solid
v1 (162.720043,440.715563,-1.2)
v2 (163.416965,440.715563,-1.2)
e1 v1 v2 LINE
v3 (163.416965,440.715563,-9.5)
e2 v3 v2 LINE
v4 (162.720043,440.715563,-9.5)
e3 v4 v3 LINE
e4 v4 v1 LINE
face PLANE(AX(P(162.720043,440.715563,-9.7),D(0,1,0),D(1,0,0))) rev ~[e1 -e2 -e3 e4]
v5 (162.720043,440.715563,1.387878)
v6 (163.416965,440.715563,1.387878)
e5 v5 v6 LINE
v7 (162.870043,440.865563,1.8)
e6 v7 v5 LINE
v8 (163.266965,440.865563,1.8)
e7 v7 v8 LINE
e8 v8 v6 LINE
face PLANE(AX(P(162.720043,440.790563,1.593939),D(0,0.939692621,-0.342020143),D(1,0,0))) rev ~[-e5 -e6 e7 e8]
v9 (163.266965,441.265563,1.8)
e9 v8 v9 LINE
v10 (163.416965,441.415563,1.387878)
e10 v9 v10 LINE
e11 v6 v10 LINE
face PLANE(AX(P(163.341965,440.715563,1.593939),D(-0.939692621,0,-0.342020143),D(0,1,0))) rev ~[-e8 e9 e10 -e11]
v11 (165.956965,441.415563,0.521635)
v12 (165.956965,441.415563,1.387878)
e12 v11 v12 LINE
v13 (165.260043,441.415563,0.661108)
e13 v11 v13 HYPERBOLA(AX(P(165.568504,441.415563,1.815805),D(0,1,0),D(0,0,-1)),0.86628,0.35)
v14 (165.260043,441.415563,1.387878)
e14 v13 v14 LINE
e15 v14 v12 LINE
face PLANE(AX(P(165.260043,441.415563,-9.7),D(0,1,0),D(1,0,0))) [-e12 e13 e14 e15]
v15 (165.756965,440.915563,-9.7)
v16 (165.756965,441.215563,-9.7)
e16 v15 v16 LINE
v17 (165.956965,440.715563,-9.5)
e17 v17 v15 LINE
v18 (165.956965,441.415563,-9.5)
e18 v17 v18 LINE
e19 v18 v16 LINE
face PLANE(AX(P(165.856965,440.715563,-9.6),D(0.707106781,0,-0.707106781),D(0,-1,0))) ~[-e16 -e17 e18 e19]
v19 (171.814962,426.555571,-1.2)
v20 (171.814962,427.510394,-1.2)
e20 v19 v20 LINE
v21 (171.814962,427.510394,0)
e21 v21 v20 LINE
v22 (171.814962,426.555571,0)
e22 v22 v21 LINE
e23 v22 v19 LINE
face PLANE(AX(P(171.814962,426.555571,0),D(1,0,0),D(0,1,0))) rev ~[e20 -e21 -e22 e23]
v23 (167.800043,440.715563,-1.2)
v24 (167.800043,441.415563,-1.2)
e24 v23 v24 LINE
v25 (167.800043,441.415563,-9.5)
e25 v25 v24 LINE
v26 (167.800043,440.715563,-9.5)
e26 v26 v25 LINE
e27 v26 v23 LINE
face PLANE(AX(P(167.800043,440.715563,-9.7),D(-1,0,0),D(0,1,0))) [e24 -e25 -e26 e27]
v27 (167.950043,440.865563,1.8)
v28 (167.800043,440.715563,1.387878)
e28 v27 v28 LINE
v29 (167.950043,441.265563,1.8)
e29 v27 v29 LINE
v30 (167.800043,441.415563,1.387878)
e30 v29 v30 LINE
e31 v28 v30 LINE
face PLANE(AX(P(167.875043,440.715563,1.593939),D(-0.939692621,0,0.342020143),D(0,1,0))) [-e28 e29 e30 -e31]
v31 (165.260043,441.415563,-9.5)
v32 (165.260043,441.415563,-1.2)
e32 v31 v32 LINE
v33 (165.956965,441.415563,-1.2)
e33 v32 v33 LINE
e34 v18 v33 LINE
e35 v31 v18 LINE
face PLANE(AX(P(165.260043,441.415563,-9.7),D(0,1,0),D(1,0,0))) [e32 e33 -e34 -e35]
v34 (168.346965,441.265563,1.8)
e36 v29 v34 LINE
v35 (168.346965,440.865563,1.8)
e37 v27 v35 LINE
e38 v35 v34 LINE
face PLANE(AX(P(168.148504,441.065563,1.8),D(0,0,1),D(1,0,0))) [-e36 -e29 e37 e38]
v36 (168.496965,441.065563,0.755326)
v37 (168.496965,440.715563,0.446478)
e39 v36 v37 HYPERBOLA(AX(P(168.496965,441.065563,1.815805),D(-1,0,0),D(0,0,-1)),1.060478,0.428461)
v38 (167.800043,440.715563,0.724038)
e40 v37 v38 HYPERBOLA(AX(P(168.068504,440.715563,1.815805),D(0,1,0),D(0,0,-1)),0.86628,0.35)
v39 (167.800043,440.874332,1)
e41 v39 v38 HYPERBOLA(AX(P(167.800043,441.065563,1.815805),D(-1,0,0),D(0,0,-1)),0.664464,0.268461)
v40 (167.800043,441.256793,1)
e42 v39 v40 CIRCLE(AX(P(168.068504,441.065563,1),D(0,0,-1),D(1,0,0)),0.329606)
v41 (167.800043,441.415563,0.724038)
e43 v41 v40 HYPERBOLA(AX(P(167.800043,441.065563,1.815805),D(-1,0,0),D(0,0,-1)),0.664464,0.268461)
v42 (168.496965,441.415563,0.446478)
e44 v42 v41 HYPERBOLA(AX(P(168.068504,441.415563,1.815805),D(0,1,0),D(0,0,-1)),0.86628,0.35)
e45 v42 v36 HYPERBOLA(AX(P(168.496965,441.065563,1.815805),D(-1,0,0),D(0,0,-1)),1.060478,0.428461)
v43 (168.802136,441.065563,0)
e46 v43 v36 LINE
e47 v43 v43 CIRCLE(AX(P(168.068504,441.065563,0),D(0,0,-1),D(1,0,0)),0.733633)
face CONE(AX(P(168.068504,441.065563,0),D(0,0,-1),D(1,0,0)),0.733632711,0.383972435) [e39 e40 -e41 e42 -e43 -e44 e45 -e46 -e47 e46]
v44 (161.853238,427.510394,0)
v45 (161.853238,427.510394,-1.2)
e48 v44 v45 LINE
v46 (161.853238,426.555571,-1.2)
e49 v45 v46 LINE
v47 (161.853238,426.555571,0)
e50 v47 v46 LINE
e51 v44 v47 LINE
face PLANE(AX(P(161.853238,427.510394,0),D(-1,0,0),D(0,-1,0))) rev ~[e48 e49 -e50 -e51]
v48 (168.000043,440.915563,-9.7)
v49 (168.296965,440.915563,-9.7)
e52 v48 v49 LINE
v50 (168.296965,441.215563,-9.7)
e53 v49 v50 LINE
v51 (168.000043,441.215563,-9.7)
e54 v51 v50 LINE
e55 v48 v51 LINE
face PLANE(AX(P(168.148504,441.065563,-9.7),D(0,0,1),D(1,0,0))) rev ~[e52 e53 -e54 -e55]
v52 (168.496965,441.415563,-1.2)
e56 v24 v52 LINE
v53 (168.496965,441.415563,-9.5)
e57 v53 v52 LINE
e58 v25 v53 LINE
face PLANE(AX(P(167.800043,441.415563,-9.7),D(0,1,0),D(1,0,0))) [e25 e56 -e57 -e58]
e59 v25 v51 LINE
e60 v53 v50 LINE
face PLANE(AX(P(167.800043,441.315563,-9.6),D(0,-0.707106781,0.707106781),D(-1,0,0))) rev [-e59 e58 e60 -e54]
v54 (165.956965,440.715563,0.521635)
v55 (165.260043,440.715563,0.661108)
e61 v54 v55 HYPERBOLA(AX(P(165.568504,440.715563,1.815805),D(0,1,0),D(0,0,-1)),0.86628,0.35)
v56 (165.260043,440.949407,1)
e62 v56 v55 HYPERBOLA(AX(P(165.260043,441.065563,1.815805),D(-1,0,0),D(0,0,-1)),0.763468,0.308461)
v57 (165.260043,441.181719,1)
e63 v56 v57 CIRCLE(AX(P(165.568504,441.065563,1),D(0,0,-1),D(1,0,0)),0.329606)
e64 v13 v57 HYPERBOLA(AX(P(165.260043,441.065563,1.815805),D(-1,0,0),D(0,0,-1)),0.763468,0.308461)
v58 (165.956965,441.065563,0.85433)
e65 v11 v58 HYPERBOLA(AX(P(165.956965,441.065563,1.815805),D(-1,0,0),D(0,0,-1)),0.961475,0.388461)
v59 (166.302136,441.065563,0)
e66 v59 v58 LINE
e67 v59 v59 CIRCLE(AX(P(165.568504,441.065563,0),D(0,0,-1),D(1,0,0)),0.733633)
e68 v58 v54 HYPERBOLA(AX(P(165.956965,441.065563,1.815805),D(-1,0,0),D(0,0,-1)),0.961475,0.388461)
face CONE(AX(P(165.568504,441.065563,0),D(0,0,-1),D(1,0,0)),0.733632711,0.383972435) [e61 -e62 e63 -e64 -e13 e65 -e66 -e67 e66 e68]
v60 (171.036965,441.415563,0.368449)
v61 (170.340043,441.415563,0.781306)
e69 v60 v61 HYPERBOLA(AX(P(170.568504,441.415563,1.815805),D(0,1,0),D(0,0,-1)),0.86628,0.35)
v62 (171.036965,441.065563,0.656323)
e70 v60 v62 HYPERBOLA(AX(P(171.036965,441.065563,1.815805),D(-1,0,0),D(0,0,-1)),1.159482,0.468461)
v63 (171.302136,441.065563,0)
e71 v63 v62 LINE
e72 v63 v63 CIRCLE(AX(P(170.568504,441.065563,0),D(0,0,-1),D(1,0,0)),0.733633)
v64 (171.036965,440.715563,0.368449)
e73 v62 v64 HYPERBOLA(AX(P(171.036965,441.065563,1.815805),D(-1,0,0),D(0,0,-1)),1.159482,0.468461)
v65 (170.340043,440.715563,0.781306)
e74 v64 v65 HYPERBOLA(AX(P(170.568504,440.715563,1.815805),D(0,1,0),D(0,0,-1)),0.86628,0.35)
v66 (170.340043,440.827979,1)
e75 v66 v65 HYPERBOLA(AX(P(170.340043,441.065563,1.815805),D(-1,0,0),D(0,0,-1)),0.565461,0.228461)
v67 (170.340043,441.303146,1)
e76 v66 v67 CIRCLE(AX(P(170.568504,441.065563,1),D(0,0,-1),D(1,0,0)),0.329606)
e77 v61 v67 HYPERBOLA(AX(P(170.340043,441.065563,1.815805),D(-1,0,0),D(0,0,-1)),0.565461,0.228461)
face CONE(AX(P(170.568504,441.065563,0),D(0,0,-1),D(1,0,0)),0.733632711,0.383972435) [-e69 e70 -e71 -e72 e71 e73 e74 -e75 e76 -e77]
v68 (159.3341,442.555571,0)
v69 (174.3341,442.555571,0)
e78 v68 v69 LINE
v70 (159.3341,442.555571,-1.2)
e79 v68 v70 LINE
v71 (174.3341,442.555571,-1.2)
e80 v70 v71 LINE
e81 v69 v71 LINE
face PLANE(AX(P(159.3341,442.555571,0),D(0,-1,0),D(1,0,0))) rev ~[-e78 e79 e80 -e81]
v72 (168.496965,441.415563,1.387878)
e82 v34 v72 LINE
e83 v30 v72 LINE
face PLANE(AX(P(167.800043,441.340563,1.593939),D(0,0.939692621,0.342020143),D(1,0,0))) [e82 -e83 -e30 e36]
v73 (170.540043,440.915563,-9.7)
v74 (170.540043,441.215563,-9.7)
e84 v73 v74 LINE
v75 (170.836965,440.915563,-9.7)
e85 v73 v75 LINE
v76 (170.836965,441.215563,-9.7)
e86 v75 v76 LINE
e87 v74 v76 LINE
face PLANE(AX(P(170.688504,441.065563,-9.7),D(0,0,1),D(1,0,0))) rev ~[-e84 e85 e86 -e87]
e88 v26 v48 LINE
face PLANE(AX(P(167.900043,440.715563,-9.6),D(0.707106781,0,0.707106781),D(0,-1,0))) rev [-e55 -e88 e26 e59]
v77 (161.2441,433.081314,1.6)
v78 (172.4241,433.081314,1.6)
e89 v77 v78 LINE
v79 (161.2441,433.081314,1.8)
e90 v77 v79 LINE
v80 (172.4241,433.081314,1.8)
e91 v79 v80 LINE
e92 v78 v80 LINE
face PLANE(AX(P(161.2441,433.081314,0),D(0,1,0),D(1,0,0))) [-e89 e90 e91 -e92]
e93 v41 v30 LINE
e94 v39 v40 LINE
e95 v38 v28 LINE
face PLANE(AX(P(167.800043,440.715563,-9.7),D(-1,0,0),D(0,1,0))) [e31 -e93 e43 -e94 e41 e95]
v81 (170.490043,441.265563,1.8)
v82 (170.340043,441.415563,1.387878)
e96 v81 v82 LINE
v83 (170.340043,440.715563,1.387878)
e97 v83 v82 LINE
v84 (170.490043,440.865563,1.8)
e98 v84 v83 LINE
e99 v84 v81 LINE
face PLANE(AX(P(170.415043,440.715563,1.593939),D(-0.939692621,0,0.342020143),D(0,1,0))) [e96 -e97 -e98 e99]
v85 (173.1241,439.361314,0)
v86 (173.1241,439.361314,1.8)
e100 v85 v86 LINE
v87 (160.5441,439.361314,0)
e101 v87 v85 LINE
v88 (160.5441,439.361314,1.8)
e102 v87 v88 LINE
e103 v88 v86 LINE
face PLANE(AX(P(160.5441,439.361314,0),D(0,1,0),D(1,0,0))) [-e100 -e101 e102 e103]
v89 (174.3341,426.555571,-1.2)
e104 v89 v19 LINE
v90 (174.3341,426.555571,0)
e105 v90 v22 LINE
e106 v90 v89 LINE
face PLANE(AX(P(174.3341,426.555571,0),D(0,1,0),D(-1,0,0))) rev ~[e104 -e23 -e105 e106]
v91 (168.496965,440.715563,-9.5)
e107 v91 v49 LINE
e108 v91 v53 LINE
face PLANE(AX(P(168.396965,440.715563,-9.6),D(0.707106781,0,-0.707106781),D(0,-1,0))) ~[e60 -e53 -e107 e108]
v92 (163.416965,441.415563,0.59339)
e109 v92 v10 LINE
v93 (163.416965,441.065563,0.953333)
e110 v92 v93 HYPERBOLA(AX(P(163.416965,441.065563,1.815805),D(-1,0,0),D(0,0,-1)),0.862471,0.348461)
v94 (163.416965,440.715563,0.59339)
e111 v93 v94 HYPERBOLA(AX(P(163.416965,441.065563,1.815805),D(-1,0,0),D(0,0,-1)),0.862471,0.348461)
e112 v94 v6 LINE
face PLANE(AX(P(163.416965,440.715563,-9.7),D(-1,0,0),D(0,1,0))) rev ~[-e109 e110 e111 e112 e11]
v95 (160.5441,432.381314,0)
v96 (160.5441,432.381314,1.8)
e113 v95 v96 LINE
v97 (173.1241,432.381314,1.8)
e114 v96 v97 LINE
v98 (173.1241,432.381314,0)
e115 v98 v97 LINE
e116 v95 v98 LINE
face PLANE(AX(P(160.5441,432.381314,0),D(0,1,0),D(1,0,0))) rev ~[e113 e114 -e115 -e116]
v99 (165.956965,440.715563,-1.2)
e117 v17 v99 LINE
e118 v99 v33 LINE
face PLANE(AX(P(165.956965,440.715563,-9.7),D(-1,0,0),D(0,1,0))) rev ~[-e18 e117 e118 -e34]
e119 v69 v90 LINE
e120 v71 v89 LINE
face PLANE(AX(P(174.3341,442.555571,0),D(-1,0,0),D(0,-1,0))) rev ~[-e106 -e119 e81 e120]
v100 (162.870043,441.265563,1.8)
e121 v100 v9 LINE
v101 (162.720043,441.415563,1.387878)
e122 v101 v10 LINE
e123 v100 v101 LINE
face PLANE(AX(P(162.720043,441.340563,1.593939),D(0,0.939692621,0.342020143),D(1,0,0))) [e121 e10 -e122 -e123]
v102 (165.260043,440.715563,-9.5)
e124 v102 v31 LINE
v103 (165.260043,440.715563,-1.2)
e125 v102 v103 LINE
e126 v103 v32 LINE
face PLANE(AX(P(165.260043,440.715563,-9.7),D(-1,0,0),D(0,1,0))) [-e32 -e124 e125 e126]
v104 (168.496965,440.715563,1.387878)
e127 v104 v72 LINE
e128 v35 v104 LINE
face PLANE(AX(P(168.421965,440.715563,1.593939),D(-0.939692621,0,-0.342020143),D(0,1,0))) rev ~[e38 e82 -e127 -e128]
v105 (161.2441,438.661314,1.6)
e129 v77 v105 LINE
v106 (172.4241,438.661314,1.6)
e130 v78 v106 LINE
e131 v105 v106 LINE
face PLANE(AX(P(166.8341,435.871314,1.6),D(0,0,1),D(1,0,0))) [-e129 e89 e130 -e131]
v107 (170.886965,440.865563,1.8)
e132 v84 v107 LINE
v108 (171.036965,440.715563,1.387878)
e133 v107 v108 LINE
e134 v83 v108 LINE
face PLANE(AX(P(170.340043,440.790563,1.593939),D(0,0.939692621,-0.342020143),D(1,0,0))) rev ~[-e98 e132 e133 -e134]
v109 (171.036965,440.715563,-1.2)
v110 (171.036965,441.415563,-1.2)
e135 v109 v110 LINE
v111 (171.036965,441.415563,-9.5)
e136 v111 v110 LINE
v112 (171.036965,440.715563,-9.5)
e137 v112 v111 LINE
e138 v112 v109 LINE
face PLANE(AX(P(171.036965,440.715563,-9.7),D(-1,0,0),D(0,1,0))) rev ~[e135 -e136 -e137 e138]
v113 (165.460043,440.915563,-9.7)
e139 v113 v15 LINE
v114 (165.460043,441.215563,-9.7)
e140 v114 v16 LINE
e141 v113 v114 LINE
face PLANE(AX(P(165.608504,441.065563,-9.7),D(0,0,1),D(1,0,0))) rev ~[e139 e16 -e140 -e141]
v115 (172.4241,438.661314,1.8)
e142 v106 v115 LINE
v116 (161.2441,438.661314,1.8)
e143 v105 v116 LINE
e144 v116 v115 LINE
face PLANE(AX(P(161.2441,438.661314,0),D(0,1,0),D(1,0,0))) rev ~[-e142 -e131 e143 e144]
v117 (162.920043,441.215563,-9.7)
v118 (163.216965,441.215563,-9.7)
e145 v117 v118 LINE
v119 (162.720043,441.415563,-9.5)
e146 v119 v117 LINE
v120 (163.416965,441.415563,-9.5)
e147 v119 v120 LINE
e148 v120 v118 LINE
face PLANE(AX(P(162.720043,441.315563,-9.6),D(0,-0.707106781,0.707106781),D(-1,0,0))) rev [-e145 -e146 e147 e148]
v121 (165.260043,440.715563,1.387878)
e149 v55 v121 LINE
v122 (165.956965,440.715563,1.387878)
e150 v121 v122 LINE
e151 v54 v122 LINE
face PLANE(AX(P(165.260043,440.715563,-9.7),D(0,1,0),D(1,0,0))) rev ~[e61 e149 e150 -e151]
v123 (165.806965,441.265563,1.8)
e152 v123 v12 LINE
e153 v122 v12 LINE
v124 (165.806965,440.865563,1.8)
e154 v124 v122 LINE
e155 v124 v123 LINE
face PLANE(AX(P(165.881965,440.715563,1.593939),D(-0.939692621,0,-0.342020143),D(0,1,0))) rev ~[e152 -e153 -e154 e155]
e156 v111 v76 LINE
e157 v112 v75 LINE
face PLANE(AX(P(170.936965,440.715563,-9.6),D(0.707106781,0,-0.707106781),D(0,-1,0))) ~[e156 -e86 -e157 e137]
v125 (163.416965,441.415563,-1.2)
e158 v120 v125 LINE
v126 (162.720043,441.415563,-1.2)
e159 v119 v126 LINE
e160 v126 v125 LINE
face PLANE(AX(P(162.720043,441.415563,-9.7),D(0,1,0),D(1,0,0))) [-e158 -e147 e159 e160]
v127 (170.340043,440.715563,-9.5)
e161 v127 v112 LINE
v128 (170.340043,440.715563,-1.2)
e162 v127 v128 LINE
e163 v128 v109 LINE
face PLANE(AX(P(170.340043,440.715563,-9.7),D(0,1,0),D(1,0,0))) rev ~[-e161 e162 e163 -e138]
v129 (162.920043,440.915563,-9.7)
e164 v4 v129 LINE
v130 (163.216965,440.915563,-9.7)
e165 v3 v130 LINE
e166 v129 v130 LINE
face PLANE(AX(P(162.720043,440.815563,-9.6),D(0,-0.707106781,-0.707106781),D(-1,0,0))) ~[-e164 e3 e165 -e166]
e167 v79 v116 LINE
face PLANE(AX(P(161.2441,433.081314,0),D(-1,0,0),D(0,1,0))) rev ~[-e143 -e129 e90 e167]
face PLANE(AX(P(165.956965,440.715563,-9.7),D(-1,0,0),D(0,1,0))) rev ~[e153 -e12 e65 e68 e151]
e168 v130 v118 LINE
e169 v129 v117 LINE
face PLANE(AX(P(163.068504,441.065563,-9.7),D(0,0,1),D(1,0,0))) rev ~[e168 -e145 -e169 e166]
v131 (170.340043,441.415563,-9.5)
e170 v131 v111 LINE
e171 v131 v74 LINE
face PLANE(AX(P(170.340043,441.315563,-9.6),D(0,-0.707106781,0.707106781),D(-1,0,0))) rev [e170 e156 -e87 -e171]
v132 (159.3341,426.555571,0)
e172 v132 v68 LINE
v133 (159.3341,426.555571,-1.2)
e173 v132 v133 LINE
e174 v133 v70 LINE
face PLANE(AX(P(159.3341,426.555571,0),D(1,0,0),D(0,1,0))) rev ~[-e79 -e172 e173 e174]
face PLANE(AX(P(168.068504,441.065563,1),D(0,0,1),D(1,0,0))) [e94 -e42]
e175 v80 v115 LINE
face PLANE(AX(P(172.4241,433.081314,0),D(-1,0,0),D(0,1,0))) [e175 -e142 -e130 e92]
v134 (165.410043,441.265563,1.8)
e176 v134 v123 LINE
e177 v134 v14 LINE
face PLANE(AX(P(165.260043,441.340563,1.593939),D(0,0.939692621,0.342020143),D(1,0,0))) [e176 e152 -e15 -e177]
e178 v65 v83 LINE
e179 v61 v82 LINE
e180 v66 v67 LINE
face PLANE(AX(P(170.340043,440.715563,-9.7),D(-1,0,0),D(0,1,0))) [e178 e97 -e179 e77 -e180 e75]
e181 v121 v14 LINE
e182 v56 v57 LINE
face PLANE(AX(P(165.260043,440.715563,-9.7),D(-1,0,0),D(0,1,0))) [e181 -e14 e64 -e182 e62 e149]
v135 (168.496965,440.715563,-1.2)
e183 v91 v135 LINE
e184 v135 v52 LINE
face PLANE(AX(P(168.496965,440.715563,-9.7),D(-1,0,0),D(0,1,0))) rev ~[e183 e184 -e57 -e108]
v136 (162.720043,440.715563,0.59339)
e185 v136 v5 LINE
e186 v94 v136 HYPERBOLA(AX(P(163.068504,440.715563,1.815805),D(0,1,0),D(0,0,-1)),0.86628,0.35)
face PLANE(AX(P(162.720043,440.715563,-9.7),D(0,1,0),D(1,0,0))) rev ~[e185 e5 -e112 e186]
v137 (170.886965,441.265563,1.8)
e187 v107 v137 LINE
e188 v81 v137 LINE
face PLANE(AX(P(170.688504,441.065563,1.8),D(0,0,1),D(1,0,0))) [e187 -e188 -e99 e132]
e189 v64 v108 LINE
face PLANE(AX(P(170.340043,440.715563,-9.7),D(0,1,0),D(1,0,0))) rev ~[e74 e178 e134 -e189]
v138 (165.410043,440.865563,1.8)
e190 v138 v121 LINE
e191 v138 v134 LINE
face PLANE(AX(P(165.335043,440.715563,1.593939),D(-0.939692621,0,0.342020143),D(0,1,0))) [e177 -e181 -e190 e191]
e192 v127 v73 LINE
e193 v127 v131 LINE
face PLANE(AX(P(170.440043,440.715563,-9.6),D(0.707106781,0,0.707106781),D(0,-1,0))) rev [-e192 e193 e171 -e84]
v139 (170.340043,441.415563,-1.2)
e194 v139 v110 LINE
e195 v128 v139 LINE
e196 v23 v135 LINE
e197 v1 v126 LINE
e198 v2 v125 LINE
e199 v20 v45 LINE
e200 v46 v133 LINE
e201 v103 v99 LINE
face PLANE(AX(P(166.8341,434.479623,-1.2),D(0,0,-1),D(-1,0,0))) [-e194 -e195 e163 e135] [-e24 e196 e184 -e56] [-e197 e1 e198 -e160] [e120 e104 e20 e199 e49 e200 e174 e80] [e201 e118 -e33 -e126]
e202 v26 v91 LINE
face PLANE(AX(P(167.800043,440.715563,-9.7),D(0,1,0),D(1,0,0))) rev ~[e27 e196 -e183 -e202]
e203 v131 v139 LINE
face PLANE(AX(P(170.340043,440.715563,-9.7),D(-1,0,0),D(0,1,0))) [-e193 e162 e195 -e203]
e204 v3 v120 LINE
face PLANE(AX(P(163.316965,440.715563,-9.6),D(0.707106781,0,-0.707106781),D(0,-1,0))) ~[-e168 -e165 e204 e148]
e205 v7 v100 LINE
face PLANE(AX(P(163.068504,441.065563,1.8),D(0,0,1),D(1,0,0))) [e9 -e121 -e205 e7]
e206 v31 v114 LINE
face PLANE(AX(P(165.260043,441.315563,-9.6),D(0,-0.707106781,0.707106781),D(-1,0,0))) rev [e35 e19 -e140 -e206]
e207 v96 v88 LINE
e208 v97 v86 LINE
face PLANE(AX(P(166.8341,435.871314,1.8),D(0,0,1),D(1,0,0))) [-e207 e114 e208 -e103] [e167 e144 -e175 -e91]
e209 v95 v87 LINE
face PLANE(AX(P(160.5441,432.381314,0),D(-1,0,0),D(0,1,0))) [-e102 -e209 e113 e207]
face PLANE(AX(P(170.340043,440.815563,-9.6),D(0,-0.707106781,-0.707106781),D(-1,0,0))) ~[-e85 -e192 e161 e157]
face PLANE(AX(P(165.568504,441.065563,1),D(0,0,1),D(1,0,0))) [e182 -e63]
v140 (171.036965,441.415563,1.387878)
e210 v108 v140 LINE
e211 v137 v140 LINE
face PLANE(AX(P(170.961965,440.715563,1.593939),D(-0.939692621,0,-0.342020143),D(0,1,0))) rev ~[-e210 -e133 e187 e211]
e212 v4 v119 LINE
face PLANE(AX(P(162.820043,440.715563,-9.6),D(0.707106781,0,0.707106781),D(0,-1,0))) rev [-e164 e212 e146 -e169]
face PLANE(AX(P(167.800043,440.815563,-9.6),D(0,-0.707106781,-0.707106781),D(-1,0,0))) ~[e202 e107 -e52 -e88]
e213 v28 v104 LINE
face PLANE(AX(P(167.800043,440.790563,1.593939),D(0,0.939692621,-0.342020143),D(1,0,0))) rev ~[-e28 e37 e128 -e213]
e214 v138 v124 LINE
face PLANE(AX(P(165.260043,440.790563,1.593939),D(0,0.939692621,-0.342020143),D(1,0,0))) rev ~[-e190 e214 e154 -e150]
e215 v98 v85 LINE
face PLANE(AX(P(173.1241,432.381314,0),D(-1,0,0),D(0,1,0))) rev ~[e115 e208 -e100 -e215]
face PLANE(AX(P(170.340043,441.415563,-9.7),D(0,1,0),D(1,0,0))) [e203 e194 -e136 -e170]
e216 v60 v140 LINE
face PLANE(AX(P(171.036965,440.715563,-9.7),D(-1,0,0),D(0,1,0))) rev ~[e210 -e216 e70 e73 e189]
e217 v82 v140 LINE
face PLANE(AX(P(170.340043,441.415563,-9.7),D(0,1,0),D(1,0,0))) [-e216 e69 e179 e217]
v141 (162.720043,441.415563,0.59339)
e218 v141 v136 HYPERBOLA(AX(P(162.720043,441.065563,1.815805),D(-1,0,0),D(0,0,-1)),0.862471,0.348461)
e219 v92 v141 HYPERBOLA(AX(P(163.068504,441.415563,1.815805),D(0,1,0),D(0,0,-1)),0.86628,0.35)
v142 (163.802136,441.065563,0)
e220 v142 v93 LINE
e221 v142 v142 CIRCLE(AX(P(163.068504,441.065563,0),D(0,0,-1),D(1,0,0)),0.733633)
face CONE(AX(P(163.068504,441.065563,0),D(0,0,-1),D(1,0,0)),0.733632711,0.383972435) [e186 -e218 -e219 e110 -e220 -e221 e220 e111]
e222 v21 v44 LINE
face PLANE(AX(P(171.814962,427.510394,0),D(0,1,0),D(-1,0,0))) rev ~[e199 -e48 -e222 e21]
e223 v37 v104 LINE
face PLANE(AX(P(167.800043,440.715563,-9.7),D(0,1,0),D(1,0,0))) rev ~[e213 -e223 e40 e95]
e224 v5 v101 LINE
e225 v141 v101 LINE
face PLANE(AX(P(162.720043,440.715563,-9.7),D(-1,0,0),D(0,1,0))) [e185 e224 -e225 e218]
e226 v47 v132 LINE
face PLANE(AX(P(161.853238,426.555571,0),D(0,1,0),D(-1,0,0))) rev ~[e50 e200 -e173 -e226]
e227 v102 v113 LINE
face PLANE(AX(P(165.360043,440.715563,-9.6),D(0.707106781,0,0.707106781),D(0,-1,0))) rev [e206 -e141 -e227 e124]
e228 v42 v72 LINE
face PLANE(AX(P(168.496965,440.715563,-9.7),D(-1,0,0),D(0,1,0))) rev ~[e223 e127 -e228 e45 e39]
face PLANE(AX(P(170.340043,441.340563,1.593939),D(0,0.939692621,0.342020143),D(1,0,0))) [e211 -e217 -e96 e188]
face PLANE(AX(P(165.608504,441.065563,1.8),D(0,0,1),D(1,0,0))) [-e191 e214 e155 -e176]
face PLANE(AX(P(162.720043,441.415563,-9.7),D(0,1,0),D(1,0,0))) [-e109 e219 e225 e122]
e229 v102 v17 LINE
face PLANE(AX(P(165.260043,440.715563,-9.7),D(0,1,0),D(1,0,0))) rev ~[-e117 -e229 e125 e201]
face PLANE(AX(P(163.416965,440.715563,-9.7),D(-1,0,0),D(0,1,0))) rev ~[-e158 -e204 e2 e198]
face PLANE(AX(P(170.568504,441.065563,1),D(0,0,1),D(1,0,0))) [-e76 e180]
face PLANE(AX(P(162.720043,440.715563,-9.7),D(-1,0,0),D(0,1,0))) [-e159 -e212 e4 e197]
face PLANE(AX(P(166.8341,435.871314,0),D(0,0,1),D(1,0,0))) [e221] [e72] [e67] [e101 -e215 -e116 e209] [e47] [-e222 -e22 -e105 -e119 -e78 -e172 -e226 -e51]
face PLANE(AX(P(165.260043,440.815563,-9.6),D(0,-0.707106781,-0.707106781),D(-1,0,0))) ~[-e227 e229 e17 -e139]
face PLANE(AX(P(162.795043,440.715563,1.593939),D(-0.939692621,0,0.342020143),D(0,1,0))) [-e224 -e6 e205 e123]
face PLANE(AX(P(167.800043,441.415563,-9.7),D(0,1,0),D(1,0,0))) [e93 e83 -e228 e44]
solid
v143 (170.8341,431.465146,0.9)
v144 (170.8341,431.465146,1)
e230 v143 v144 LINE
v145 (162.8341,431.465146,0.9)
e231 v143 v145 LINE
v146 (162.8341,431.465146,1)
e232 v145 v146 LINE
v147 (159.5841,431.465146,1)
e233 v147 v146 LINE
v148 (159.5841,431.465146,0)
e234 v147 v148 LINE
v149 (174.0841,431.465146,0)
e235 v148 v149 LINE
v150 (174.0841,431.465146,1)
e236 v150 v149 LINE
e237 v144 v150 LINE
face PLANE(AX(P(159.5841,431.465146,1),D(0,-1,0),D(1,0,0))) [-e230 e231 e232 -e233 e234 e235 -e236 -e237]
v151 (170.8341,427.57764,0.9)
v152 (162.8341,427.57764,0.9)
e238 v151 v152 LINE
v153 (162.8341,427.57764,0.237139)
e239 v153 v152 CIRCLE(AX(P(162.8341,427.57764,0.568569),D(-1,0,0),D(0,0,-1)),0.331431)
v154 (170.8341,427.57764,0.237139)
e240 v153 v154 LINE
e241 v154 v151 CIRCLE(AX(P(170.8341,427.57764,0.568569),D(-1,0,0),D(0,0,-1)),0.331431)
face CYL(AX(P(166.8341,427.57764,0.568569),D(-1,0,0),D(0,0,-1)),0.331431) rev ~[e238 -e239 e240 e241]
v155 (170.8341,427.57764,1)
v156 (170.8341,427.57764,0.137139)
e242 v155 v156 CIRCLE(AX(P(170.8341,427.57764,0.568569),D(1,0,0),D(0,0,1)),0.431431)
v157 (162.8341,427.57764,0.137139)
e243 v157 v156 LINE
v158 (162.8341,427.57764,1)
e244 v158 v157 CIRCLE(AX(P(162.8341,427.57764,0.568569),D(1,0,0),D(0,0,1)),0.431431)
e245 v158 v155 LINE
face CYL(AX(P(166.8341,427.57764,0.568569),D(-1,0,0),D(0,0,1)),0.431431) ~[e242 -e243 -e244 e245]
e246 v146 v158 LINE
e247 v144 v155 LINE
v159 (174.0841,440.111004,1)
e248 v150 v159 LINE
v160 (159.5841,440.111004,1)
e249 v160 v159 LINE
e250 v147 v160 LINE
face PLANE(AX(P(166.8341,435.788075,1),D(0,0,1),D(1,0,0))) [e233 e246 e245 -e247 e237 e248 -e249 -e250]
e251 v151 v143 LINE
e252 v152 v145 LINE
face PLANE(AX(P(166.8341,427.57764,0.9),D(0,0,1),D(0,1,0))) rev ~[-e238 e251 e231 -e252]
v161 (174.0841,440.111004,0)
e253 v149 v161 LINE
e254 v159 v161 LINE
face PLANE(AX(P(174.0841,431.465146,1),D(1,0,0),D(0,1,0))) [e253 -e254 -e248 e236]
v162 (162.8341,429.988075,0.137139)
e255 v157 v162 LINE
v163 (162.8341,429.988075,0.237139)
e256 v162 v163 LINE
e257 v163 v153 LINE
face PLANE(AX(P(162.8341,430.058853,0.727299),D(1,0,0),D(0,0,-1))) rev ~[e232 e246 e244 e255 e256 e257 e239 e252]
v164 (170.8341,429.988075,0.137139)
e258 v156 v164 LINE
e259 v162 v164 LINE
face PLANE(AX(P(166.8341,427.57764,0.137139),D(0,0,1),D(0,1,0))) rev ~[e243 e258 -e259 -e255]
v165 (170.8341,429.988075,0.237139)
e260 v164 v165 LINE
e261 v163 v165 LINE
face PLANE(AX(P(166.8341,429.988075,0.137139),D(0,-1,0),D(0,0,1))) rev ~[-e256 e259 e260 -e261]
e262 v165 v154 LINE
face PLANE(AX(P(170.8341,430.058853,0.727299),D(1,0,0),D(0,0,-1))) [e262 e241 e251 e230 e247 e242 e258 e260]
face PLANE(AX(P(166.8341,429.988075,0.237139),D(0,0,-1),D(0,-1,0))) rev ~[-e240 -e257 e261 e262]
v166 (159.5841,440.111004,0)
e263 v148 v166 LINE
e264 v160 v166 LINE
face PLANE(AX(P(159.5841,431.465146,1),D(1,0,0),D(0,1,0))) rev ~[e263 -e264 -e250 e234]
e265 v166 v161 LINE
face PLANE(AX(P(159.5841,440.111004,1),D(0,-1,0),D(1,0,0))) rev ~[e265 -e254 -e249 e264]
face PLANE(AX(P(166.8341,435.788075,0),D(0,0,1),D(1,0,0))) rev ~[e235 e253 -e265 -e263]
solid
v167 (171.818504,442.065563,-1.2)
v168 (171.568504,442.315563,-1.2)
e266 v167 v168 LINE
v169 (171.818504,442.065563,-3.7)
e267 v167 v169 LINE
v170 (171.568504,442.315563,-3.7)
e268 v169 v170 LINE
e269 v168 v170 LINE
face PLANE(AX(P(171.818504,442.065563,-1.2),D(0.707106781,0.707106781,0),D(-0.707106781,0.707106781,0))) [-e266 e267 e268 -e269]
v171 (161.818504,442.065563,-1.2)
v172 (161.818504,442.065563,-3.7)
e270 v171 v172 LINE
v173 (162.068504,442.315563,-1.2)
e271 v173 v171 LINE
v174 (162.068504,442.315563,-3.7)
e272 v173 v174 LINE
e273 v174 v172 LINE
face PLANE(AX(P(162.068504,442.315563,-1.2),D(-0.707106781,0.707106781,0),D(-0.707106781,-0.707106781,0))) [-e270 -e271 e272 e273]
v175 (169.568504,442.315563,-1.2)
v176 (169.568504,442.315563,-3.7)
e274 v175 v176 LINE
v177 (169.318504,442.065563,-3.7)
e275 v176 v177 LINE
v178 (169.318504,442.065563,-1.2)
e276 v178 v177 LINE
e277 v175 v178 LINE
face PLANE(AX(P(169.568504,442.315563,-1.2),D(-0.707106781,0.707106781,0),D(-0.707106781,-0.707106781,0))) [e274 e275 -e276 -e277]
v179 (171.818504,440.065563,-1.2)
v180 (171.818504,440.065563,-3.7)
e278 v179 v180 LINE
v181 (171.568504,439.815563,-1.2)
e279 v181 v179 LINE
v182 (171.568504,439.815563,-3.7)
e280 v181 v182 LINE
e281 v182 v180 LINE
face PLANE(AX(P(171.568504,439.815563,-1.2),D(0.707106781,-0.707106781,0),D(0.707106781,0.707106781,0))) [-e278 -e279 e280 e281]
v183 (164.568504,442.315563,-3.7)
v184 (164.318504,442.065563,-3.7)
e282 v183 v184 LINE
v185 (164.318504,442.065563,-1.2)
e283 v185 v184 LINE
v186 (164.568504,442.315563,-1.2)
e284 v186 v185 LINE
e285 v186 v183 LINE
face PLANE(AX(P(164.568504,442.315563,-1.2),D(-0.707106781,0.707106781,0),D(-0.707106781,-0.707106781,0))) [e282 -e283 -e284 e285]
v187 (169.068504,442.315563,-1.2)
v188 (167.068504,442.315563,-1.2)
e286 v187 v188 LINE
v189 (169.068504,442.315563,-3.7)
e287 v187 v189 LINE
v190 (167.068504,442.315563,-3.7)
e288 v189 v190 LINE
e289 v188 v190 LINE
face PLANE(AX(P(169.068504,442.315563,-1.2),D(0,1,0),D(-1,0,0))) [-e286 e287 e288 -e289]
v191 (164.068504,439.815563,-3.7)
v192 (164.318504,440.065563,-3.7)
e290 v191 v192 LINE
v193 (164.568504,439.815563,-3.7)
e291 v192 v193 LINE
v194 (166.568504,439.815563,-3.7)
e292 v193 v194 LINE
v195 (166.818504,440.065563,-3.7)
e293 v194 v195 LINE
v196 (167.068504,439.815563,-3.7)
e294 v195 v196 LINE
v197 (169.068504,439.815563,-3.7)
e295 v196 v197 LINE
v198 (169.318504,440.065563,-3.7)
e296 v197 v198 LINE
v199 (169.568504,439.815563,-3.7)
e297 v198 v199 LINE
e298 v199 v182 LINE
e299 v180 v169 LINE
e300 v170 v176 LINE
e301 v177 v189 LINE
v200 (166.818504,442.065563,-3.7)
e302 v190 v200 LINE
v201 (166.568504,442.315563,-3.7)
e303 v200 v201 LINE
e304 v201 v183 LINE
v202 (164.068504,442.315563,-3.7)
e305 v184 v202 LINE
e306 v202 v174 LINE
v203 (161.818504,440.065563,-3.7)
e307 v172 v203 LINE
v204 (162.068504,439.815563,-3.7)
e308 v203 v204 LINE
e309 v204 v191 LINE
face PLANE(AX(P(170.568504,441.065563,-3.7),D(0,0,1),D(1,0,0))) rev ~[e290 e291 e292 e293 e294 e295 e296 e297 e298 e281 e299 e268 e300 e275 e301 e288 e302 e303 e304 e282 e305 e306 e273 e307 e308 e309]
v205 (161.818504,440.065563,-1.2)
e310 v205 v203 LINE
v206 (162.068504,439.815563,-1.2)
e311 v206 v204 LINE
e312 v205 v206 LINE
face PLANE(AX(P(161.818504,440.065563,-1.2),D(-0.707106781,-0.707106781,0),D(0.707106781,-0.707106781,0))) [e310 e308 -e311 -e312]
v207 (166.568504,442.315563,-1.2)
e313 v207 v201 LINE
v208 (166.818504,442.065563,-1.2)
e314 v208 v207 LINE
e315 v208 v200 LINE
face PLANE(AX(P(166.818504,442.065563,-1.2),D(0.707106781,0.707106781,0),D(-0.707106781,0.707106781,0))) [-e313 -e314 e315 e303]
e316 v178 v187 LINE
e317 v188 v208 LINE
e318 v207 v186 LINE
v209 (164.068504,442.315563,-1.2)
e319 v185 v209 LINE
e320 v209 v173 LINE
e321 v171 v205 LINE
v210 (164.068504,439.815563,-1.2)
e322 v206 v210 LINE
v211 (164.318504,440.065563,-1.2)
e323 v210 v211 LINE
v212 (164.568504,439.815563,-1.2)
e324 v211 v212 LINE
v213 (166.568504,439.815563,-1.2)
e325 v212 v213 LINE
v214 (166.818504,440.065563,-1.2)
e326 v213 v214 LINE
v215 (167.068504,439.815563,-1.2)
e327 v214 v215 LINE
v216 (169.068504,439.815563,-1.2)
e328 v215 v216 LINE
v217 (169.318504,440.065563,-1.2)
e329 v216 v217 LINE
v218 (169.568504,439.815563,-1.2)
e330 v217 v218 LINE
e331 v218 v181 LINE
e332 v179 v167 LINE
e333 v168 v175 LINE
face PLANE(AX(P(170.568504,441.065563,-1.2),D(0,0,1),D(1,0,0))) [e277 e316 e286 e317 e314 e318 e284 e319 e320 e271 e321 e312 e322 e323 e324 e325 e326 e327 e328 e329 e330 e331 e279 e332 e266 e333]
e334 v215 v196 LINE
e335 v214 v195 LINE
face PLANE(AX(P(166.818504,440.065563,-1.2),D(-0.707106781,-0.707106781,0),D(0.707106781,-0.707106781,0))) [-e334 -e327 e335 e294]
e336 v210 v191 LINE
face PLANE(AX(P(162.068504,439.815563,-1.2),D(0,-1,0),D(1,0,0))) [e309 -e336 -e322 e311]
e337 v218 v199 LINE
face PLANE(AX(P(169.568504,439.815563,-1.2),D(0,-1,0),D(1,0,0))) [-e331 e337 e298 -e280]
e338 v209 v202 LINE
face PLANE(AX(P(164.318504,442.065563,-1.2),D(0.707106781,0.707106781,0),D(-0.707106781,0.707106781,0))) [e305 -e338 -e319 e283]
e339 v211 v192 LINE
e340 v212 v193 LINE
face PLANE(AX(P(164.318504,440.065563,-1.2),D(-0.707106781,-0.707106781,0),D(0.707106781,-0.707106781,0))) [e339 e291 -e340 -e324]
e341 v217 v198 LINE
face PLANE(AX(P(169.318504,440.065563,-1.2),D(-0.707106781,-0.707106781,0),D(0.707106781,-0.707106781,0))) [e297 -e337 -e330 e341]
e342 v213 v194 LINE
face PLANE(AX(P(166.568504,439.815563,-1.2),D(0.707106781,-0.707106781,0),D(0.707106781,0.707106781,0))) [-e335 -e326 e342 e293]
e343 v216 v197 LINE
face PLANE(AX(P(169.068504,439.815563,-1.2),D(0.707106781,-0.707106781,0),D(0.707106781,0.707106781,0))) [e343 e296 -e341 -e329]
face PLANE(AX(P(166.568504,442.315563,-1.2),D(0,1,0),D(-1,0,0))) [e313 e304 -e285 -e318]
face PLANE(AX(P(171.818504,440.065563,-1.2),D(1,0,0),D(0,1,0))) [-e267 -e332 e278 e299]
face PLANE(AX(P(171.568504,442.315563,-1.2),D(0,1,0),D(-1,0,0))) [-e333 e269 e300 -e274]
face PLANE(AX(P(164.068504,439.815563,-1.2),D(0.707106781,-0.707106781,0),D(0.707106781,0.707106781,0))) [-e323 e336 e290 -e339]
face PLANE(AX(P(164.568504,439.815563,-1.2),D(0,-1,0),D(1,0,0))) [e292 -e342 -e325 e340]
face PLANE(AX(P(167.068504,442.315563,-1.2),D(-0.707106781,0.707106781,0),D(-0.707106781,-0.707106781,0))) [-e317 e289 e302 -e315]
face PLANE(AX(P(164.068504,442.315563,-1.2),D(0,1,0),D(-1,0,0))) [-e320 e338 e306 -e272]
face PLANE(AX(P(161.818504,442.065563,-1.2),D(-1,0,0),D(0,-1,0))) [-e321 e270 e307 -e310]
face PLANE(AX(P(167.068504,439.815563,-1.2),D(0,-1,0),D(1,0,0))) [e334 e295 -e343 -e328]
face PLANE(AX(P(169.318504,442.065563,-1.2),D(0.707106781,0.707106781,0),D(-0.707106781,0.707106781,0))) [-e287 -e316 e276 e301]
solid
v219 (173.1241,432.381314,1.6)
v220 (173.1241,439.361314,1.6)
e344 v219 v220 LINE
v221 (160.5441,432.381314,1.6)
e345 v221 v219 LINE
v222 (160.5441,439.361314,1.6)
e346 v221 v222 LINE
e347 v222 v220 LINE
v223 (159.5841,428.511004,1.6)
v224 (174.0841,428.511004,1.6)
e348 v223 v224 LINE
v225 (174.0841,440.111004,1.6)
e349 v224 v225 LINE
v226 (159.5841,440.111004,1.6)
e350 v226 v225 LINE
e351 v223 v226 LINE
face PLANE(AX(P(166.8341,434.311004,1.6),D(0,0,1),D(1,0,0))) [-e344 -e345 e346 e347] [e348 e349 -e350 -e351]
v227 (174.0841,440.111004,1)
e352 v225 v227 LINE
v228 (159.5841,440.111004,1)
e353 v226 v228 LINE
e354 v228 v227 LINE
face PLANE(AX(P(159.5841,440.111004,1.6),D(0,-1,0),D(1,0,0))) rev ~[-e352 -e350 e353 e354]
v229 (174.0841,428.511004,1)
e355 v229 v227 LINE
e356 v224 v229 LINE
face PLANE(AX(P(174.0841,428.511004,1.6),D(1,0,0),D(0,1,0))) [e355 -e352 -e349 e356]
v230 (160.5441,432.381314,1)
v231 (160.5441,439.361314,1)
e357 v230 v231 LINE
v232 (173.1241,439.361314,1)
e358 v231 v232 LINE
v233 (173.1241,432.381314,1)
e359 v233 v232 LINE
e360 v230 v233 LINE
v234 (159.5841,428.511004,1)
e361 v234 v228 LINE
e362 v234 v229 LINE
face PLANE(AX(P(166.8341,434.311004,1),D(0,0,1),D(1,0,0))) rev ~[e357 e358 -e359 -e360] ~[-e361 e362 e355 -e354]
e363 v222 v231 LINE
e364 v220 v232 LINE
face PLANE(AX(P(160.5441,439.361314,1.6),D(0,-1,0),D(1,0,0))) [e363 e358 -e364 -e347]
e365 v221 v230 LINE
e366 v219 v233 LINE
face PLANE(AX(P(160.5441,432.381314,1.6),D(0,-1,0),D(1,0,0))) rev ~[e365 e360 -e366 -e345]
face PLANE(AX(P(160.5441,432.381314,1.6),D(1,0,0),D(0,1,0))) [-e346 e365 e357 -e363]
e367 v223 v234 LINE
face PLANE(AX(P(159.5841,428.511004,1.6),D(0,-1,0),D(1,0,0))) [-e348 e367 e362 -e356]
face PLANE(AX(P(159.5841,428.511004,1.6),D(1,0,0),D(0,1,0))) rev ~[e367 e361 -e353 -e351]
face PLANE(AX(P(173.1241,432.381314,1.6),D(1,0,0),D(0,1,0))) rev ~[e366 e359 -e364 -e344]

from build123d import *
from OCP.BRepFilletAPI import BRepFilletAPI_MakeChamfer

# Parameters (mm, degrees)
SKETCH1_W                = 14.5
SKETCH1_H                = 11.6
SKETCH1_W_2              = 0.696922127
SKETCH1_H_2              = 0.7
SKETCH1_W_3              = 12.58
SKETCH1_H_3              = 6.98
SKETCH1_W_4              = 11.18
SKETCH1_H_4              = 5.58
BOSS_EXTRUDE1_DEPTH      = 1.2
BOSS_EXTRUDE2_DEPTH      = 1.8
BOSS_EXTRUDE2_DEPTH_BACK = 9.7
SKETCH1_3_W              = 0.696922127
SKETCH1_3_H              = 0.7
BOSS_EXTRUDE3_START      = 1.6
SKETCH1_4_W              = 14.5
SKETCH1_4_H              = 11.6
SKETCH1_4_W_2            = 12.58
SKETCH1_4_H_2            = 6.98
BOSS_EXTRUDE3_DEPTH      = 0.6
SKETCH1_5_W              = 12.58
SKETCH1_5_H              = 6.98
SKETCH1_5_W_2            = 11.18
SKETCH1_5_H_2            = 5.58
BOSS_EXTRUDE4_DEPTH      = 1.8
SKETCH1_6_W              = 11.18
SKETCH1_6_H              = 5.58
BOSS_EXTRUDE5_DEPTH      = 1.6
BOSS_EXTRUDE6_DEPTH      = 2.5
LPATTERN1_COUNT          = 4
LPATTERN1_PITCH          = 2.5
BOSS_EXTRUDE7_START      = -0.6
SKETCH3_W                = 14.5
SKETCH3_H                = 8.64585792
BOSS_EXTRUDE7_DEPTH      = 1
SKETCH4_R                = 0.733632711
BOSS_EXTRUDE8_DEPTH      = 1
BOSS_EXTRUDE8_TAPER      = 22
LPATTERN2_COUNT          = 4
LPATTERN2_PITCH          = 2.5
EXTRUDE_THIN1_DEPTH      = 4
CHAMFER1_SIZE            = 0.15
CHAMFER1_SIZE2           = 0.412121613
CHAMFER2_SIZE            = 0.15
CHAMFER2_SIZE2           = 0.412121613
CHAMFER3_SIZE            = 0.2


with BuildPart() as part:
    # Sketch1 → Boss-Extrude1 (new body)
    # profile 1 of 4: a face of its own
    with BuildSketch(Plane.XY):
        Polygon((171.814961943, 426.555570658), (171.814961943, 427.510394392), (161.853237798, 427.510394392), (161.853237798, 426.555570658), (159.33409987, 426.555570658), (159.33409987, 442.555570658), (174.33409987, 442.555570658), (174.33409987, 426.555570658), align=None)
        with Locations((166.83409987, 434.311004349)):
            Rectangle(SKETCH1_W, SKETCH1_H, mode=Mode.SUBTRACT)
        with Locations((163.068503678, 441.065562707)):
            Rectangle(SKETCH1_W_2, SKETCH1_H_2, mode=Mode.SUBTRACT)
        with Locations((165.608503678, 441.065562707)):
            Rectangle(SKETCH1_W_2, SKETCH1_H_2, mode=Mode.SUBTRACT)
        with Locations((168.148503678, 441.065562707)):
            Rectangle(SKETCH1_W_2, SKETCH1_H_2, mode=Mode.SUBTRACT)
        with Locations((170.688503678, 441.065562707)):
            Rectangle(SKETCH1_W_2, SKETCH1_H_2, mode=Mode.SUBTRACT)
    # profile 2 of 4: a face of its own
    with BuildSketch(Plane.XY):
        with Locations((166.83409987, 434.311004349)):
            Rectangle(SKETCH1_W, SKETCH1_H)
        with Locations((166.83409987, 435.871314227)):
            Rectangle(SKETCH1_W_3, SKETCH1_H_3, mode=Mode.SUBTRACT)
    # profile 3 of 4: a face of its own
    with BuildSketch(Plane.XY):
        with Locations((166.83409987, 435.871314227)):
            Rectangle(SKETCH1_W_3, SKETCH1_H_3)
        with Locations((166.83409987, 435.871314227)):
            Rectangle(SKETCH1_W_4, SKETCH1_H_4, mode=Mode.SUBTRACT)
    # profile 4 of 4: a face of its own
    with BuildSketch(Plane.XY):
        with Locations((166.83409987, 435.871314227)):
            Rectangle(SKETCH1_W_4, SKETCH1_H_4)
    extrude(amount=-BOSS_EXTRUDE1_DEPTH)

    # Sketch1<3> → Boss-Extrude2 (add, two sides: drawn at the far end of the back side and taken through both)
    with BuildSketch(Plane.XY.offset(-BOSS_EXTRUDE2_DEPTH_BACK)):
        with Locations((163.068503678, 441.065562707)):
            Rectangle(SKETCH1_3_W, SKETCH1_3_H)
        with Locations((165.608503678, 441.065562707)):
            Rectangle(SKETCH1_3_W, SKETCH1_3_H)
        with Locations((168.148503678, 441.065562707)):
            Rectangle(SKETCH1_3_W, SKETCH1_3_H)
        with Locations((170.688503678, 441.065562707)):
            Rectangle(SKETCH1_3_W, SKETCH1_3_H)
    extrude(amount=BOSS_EXTRUDE2_DEPTH + BOSS_EXTRUDE2_DEPTH_BACK)

    # Sketch1<5> → Boss-Extrude4 (add)
    with BuildSketch(Plane.XY):
        with Locations((166.83409987, 435.871314227)):
            Rectangle(SKETCH1_5_W, SKETCH1_5_H)
        with Locations((166.83409987, 435.871314227)):
            Rectangle(SKETCH1_5_W_2, SKETCH1_5_H_2, mode=Mode.SUBTRACT)
    extrude(amount=BOSS_EXTRUDE4_DEPTH)

    # Sketch1<6> → Boss-Extrude5 (add)
    with BuildSketch(Plane.XY):
        with Locations((166.83409987, 435.871314227)):
            Rectangle(SKETCH1_6_W, SKETCH1_6_H)
    extrude(amount=BOSS_EXTRUDE5_DEPTH)


with BuildPart() as body_2:
    # Sketch1<4> → Boss-Extrude3 (new body)
    with BuildSketch(Plane.XY.offset(BOSS_EXTRUDE3_START)):
        with Locations((166.83409987, 434.311004349)):
            Rectangle(SKETCH1_4_W, SKETCH1_4_H)
        with Locations((166.83409987, 435.871314227)):
            Rectangle(SKETCH1_4_W_2, SKETCH1_4_H_2, mode=Mode.SUBTRACT)
    extrude(amount=-BOSS_EXTRUDE3_DEPTH)


with BuildPart() as body_3:
    # Sketch2 → Boss-Extrude6 (new body)
    with BuildSketch(Plane(origin=(0, 0, -1.2), x_dir=(-1, 0, 0), z_dir=(0, 0, -1))):
        Polygon((-164.068503677, 442.315562707), (-162.068503677, 442.315562707), (-161.818503677, 442.065562707), (-161.818503677, 440.065562707), (-162.068503677, 439.815562707), (-164.068503677, 439.815562707), (-164.318503677, 440.065562707), (-164.318503677, 442.065562707), align=None)
    boss_extrude6 = extrude(amount=BOSS_EXTRUDE6_DEPTH)


with BuildPart() as lpattern1_1:
    # LPattern1: pattern copy
    add(boss_extrude6.moved(Location(Vector(1, 0, 0) * (1 * LPATTERN1_PITCH))))


with BuildPart() as lpattern1_2:
    # LPattern1: pattern copy
    add(boss_extrude6.moved(Location(Vector(1, 0, 0) * (2 * LPATTERN1_PITCH))))


with BuildPart() as lpattern1_3:
    # LPattern1: pattern copy
    add(boss_extrude6.moved(Location(Vector(1, 0, 0) * (3 * LPATTERN1_PITCH))))


with BuildPart() as body_7:
    # Sketch3 → Boss-Extrude7 (new body)
    with BuildSketch(Plane.XY.offset(1.6).offset(BOSS_EXTRUDE7_START)):
        with Locations((166.83409987, 435.788075389)):
            Rectangle(SKETCH3_W, SKETCH3_H)
    extrude(amount=-BOSS_EXTRUDE7_DEPTH)

    # Sketch6 → Extrude-Thin1 (add, symmetric)
    with BuildSketch(Plane.ZY.offset(-166.83409987)):
        with BuildLine():
            Line((1, 434.311004349), (1, 427.577640227))
            ThreePointArc((1, 427.577640227), (0.568569371, 427.146209598), (0.137138742, 427.577640227))
            Line((0.137138742, 427.577640227), (0.137138742, 429.988075389))
            Line((0.137138742, 429.988075389), (0.237138742, 429.988075389))
            Line((0.237138742, 429.988075389), (0.237138742, 427.577640227))
            ThreePointArc((0.237138742, 427.577640227), (0.568569371, 427.246209598), (0.9, 427.577640227))
            Line((0.9, 427.577640227), (0.9, 434.311004349))
            Line((0.9, 434.311004349), (1, 434.311004349))
        make_face()
    extrude(amount=EXTRUDE_THIN1_DEPTH, both=True)


with BuildPart() as body_8:
    # Sketch4 → Boss-Extrude8 (new body)
    with BuildSketch(Plane.XY):
        with Locations((163.068503677, 441.065562707)):
            Circle(SKETCH4_R)
    boss_extrude8 = extrude(amount=BOSS_EXTRUDE8_DEPTH, taper=BOSS_EXTRUDE8_TAPER)


with BuildPart() as lpattern2_1:
    # LPattern2: pattern copy
    add(boss_extrude8.moved(Location(Vector(1, 0, 0) * (1 * LPATTERN2_PITCH))))


with BuildPart() as lpattern2_2:
    # LPattern2: pattern copy
    add(boss_extrude8.moved(Location(Vector(1, 0, 0) * (2 * LPATTERN2_PITCH))))


with BuildPart() as lpattern2_3:
    # LPattern2: pattern copy
    add(boss_extrude8.moved(Location(Vector(1, 0, 0) * (3 * LPATTERN2_PITCH))))


with BuildPart() as part_1:
    add(part.part)

    # Combine2: union LPattern2_3, LPattern2_2, LPattern2_1, body 8
    add(lpattern2_3.part)
    add(lpattern2_2.part)
    add(lpattern2_1.part)
    add(body_8.part)

    # Chamfer1
    chamfer1_edges = [part_1.edges().sort_by_distance(p)[0] for p in [
        (171.036964741, 441.065562707, 1.8),
        (170.688503677, 441.415562707, 1.8),
        (170.340042614, 441.065562707, 1.8),
        (170.688503677, 440.715562707, 1.8),
    ]]
    chamfer1_side = [part_1.faces().sort_by_distance(p)[0] for p in [
        (170.688503677, 441.065562707, 1.8),
    ]]
    chamfer(chamfer1_edges, length=CHAMFER1_SIZE, length2=CHAMFER1_SIZE2, reference=chamfer1_side[0])

    # Chamfer2: one chamfer whose edges measure the first distance from different faces: ONE call of the kernel's chamfer builder (chamfer() names one face for all edges)
    chamfer2_edges_1 = [part_1.edges().sort_by_distance(p)[0] for p in [
        (168.496964741, 441.065562707, 1.8),
        (168.148503677, 441.415562707, 1.8),
        (167.800042614, 441.065562707, 1.8),
        (168.148503677, 440.715562707, 1.8),
    ]]
    chamfer2_side_1 = [part_1.faces().sort_by_distance(p)[0] for p in [
        (168.148503677, 441.065562707, 1.8),
    ]]
    chamfer2_edges_2 = [part_1.edges().sort_by_distance(p)[0] for p in [
        (163.416964741, 441.065562707, 1.8),
        (163.068503677, 441.415562707, 1.8),
        (162.720042614, 441.065562707, 1.8),
        (163.068503677, 440.715562707, 1.8),
    ]]
    chamfer2_side_2 = [part_1.faces().sort_by_distance(p)[0] for p in [
        (163.068503677, 441.065562707, 1.8),
    ]]
    chamfer2_edges_3 = [part_1.edges().sort_by_distance(p)[0] for p in [
        (165.956964741, 441.065562707, 1.8),
        (165.608503677, 441.415562707, 1.8),
        (165.260042614, 441.065562707, 1.8),
        (165.608503677, 440.715562707, 1.8),
    ]]
    chamfer2_side_3 = [part_1.faces().sort_by_distance(p)[0] for p in [
        (165.608503677, 441.065562707, 1.8),
    ]]
    chamfer2 = BRepFilletAPI_MakeChamfer(part_1.part.solid().wrapped)
    for e in chamfer2_edges_1:
        chamfer2.Add(CHAMFER2_SIZE, CHAMFER2_SIZE2, e.wrapped, chamfer2_side_1[0].wrapped)  # the first distance lies on this face
    for e in chamfer2_edges_2:
        chamfer2.Add(CHAMFER2_SIZE, CHAMFER2_SIZE2, e.wrapped, chamfer2_side_2[0].wrapped)  # the first distance lies on this face
    for e in chamfer2_edges_3:
        chamfer2.Add(CHAMFER2_SIZE, CHAMFER2_SIZE2, e.wrapped, chamfer2_side_3[0].wrapped)  # the first distance lies on this face
    add(Compound.cast(chamfer2.Shape()), mode=Mode.REPLACE)

    # Chamfer3
    chamfer3_edges = [part_1.edges().sort_by_distance(p)[0] for p in [
        (168.148503677, 440.715562707, -9.7),
        (167.800042614, 441.065562707, -9.7),
        (168.496964741, 441.065562707, -9.7),
        (168.148503677, 441.415562707, -9.7),
        (170.688503677, 440.715562707, -9.7),
        (170.340042614, 441.065562707, -9.7),
        (171.036964741, 441.065562707, -9.7),
        (170.688503677, 441.415562707, -9.7),
        (163.068503677, 440.715562707, -9.7),
        (162.720042614, 441.065562707, -9.7),
        (163.416964741, 441.065562707, -9.7),
        (163.068503677, 441.415562707, -9.7),
        (165.608503677, 440.715562707, -9.7),
        (165.260042614, 441.065562707, -9.7),
        (165.956964741, 441.065562707, -9.7),
        (165.608503677, 441.415562707, -9.7),
    ]]
    chamfer(chamfer3_edges, length=CHAMFER3_SIZE)


with BuildPart() as body_3_1:
    add(body_3.part)

    # Combine3: union LPattern1_1, LPattern1_2, LPattern1_3
    add(lpattern1_1.part)
    add(lpattern1_2.part)
    add(lpattern1_3.part)


solid = Compound([body_2.part, body_7.part, part_1.part, body_3_1.part])
